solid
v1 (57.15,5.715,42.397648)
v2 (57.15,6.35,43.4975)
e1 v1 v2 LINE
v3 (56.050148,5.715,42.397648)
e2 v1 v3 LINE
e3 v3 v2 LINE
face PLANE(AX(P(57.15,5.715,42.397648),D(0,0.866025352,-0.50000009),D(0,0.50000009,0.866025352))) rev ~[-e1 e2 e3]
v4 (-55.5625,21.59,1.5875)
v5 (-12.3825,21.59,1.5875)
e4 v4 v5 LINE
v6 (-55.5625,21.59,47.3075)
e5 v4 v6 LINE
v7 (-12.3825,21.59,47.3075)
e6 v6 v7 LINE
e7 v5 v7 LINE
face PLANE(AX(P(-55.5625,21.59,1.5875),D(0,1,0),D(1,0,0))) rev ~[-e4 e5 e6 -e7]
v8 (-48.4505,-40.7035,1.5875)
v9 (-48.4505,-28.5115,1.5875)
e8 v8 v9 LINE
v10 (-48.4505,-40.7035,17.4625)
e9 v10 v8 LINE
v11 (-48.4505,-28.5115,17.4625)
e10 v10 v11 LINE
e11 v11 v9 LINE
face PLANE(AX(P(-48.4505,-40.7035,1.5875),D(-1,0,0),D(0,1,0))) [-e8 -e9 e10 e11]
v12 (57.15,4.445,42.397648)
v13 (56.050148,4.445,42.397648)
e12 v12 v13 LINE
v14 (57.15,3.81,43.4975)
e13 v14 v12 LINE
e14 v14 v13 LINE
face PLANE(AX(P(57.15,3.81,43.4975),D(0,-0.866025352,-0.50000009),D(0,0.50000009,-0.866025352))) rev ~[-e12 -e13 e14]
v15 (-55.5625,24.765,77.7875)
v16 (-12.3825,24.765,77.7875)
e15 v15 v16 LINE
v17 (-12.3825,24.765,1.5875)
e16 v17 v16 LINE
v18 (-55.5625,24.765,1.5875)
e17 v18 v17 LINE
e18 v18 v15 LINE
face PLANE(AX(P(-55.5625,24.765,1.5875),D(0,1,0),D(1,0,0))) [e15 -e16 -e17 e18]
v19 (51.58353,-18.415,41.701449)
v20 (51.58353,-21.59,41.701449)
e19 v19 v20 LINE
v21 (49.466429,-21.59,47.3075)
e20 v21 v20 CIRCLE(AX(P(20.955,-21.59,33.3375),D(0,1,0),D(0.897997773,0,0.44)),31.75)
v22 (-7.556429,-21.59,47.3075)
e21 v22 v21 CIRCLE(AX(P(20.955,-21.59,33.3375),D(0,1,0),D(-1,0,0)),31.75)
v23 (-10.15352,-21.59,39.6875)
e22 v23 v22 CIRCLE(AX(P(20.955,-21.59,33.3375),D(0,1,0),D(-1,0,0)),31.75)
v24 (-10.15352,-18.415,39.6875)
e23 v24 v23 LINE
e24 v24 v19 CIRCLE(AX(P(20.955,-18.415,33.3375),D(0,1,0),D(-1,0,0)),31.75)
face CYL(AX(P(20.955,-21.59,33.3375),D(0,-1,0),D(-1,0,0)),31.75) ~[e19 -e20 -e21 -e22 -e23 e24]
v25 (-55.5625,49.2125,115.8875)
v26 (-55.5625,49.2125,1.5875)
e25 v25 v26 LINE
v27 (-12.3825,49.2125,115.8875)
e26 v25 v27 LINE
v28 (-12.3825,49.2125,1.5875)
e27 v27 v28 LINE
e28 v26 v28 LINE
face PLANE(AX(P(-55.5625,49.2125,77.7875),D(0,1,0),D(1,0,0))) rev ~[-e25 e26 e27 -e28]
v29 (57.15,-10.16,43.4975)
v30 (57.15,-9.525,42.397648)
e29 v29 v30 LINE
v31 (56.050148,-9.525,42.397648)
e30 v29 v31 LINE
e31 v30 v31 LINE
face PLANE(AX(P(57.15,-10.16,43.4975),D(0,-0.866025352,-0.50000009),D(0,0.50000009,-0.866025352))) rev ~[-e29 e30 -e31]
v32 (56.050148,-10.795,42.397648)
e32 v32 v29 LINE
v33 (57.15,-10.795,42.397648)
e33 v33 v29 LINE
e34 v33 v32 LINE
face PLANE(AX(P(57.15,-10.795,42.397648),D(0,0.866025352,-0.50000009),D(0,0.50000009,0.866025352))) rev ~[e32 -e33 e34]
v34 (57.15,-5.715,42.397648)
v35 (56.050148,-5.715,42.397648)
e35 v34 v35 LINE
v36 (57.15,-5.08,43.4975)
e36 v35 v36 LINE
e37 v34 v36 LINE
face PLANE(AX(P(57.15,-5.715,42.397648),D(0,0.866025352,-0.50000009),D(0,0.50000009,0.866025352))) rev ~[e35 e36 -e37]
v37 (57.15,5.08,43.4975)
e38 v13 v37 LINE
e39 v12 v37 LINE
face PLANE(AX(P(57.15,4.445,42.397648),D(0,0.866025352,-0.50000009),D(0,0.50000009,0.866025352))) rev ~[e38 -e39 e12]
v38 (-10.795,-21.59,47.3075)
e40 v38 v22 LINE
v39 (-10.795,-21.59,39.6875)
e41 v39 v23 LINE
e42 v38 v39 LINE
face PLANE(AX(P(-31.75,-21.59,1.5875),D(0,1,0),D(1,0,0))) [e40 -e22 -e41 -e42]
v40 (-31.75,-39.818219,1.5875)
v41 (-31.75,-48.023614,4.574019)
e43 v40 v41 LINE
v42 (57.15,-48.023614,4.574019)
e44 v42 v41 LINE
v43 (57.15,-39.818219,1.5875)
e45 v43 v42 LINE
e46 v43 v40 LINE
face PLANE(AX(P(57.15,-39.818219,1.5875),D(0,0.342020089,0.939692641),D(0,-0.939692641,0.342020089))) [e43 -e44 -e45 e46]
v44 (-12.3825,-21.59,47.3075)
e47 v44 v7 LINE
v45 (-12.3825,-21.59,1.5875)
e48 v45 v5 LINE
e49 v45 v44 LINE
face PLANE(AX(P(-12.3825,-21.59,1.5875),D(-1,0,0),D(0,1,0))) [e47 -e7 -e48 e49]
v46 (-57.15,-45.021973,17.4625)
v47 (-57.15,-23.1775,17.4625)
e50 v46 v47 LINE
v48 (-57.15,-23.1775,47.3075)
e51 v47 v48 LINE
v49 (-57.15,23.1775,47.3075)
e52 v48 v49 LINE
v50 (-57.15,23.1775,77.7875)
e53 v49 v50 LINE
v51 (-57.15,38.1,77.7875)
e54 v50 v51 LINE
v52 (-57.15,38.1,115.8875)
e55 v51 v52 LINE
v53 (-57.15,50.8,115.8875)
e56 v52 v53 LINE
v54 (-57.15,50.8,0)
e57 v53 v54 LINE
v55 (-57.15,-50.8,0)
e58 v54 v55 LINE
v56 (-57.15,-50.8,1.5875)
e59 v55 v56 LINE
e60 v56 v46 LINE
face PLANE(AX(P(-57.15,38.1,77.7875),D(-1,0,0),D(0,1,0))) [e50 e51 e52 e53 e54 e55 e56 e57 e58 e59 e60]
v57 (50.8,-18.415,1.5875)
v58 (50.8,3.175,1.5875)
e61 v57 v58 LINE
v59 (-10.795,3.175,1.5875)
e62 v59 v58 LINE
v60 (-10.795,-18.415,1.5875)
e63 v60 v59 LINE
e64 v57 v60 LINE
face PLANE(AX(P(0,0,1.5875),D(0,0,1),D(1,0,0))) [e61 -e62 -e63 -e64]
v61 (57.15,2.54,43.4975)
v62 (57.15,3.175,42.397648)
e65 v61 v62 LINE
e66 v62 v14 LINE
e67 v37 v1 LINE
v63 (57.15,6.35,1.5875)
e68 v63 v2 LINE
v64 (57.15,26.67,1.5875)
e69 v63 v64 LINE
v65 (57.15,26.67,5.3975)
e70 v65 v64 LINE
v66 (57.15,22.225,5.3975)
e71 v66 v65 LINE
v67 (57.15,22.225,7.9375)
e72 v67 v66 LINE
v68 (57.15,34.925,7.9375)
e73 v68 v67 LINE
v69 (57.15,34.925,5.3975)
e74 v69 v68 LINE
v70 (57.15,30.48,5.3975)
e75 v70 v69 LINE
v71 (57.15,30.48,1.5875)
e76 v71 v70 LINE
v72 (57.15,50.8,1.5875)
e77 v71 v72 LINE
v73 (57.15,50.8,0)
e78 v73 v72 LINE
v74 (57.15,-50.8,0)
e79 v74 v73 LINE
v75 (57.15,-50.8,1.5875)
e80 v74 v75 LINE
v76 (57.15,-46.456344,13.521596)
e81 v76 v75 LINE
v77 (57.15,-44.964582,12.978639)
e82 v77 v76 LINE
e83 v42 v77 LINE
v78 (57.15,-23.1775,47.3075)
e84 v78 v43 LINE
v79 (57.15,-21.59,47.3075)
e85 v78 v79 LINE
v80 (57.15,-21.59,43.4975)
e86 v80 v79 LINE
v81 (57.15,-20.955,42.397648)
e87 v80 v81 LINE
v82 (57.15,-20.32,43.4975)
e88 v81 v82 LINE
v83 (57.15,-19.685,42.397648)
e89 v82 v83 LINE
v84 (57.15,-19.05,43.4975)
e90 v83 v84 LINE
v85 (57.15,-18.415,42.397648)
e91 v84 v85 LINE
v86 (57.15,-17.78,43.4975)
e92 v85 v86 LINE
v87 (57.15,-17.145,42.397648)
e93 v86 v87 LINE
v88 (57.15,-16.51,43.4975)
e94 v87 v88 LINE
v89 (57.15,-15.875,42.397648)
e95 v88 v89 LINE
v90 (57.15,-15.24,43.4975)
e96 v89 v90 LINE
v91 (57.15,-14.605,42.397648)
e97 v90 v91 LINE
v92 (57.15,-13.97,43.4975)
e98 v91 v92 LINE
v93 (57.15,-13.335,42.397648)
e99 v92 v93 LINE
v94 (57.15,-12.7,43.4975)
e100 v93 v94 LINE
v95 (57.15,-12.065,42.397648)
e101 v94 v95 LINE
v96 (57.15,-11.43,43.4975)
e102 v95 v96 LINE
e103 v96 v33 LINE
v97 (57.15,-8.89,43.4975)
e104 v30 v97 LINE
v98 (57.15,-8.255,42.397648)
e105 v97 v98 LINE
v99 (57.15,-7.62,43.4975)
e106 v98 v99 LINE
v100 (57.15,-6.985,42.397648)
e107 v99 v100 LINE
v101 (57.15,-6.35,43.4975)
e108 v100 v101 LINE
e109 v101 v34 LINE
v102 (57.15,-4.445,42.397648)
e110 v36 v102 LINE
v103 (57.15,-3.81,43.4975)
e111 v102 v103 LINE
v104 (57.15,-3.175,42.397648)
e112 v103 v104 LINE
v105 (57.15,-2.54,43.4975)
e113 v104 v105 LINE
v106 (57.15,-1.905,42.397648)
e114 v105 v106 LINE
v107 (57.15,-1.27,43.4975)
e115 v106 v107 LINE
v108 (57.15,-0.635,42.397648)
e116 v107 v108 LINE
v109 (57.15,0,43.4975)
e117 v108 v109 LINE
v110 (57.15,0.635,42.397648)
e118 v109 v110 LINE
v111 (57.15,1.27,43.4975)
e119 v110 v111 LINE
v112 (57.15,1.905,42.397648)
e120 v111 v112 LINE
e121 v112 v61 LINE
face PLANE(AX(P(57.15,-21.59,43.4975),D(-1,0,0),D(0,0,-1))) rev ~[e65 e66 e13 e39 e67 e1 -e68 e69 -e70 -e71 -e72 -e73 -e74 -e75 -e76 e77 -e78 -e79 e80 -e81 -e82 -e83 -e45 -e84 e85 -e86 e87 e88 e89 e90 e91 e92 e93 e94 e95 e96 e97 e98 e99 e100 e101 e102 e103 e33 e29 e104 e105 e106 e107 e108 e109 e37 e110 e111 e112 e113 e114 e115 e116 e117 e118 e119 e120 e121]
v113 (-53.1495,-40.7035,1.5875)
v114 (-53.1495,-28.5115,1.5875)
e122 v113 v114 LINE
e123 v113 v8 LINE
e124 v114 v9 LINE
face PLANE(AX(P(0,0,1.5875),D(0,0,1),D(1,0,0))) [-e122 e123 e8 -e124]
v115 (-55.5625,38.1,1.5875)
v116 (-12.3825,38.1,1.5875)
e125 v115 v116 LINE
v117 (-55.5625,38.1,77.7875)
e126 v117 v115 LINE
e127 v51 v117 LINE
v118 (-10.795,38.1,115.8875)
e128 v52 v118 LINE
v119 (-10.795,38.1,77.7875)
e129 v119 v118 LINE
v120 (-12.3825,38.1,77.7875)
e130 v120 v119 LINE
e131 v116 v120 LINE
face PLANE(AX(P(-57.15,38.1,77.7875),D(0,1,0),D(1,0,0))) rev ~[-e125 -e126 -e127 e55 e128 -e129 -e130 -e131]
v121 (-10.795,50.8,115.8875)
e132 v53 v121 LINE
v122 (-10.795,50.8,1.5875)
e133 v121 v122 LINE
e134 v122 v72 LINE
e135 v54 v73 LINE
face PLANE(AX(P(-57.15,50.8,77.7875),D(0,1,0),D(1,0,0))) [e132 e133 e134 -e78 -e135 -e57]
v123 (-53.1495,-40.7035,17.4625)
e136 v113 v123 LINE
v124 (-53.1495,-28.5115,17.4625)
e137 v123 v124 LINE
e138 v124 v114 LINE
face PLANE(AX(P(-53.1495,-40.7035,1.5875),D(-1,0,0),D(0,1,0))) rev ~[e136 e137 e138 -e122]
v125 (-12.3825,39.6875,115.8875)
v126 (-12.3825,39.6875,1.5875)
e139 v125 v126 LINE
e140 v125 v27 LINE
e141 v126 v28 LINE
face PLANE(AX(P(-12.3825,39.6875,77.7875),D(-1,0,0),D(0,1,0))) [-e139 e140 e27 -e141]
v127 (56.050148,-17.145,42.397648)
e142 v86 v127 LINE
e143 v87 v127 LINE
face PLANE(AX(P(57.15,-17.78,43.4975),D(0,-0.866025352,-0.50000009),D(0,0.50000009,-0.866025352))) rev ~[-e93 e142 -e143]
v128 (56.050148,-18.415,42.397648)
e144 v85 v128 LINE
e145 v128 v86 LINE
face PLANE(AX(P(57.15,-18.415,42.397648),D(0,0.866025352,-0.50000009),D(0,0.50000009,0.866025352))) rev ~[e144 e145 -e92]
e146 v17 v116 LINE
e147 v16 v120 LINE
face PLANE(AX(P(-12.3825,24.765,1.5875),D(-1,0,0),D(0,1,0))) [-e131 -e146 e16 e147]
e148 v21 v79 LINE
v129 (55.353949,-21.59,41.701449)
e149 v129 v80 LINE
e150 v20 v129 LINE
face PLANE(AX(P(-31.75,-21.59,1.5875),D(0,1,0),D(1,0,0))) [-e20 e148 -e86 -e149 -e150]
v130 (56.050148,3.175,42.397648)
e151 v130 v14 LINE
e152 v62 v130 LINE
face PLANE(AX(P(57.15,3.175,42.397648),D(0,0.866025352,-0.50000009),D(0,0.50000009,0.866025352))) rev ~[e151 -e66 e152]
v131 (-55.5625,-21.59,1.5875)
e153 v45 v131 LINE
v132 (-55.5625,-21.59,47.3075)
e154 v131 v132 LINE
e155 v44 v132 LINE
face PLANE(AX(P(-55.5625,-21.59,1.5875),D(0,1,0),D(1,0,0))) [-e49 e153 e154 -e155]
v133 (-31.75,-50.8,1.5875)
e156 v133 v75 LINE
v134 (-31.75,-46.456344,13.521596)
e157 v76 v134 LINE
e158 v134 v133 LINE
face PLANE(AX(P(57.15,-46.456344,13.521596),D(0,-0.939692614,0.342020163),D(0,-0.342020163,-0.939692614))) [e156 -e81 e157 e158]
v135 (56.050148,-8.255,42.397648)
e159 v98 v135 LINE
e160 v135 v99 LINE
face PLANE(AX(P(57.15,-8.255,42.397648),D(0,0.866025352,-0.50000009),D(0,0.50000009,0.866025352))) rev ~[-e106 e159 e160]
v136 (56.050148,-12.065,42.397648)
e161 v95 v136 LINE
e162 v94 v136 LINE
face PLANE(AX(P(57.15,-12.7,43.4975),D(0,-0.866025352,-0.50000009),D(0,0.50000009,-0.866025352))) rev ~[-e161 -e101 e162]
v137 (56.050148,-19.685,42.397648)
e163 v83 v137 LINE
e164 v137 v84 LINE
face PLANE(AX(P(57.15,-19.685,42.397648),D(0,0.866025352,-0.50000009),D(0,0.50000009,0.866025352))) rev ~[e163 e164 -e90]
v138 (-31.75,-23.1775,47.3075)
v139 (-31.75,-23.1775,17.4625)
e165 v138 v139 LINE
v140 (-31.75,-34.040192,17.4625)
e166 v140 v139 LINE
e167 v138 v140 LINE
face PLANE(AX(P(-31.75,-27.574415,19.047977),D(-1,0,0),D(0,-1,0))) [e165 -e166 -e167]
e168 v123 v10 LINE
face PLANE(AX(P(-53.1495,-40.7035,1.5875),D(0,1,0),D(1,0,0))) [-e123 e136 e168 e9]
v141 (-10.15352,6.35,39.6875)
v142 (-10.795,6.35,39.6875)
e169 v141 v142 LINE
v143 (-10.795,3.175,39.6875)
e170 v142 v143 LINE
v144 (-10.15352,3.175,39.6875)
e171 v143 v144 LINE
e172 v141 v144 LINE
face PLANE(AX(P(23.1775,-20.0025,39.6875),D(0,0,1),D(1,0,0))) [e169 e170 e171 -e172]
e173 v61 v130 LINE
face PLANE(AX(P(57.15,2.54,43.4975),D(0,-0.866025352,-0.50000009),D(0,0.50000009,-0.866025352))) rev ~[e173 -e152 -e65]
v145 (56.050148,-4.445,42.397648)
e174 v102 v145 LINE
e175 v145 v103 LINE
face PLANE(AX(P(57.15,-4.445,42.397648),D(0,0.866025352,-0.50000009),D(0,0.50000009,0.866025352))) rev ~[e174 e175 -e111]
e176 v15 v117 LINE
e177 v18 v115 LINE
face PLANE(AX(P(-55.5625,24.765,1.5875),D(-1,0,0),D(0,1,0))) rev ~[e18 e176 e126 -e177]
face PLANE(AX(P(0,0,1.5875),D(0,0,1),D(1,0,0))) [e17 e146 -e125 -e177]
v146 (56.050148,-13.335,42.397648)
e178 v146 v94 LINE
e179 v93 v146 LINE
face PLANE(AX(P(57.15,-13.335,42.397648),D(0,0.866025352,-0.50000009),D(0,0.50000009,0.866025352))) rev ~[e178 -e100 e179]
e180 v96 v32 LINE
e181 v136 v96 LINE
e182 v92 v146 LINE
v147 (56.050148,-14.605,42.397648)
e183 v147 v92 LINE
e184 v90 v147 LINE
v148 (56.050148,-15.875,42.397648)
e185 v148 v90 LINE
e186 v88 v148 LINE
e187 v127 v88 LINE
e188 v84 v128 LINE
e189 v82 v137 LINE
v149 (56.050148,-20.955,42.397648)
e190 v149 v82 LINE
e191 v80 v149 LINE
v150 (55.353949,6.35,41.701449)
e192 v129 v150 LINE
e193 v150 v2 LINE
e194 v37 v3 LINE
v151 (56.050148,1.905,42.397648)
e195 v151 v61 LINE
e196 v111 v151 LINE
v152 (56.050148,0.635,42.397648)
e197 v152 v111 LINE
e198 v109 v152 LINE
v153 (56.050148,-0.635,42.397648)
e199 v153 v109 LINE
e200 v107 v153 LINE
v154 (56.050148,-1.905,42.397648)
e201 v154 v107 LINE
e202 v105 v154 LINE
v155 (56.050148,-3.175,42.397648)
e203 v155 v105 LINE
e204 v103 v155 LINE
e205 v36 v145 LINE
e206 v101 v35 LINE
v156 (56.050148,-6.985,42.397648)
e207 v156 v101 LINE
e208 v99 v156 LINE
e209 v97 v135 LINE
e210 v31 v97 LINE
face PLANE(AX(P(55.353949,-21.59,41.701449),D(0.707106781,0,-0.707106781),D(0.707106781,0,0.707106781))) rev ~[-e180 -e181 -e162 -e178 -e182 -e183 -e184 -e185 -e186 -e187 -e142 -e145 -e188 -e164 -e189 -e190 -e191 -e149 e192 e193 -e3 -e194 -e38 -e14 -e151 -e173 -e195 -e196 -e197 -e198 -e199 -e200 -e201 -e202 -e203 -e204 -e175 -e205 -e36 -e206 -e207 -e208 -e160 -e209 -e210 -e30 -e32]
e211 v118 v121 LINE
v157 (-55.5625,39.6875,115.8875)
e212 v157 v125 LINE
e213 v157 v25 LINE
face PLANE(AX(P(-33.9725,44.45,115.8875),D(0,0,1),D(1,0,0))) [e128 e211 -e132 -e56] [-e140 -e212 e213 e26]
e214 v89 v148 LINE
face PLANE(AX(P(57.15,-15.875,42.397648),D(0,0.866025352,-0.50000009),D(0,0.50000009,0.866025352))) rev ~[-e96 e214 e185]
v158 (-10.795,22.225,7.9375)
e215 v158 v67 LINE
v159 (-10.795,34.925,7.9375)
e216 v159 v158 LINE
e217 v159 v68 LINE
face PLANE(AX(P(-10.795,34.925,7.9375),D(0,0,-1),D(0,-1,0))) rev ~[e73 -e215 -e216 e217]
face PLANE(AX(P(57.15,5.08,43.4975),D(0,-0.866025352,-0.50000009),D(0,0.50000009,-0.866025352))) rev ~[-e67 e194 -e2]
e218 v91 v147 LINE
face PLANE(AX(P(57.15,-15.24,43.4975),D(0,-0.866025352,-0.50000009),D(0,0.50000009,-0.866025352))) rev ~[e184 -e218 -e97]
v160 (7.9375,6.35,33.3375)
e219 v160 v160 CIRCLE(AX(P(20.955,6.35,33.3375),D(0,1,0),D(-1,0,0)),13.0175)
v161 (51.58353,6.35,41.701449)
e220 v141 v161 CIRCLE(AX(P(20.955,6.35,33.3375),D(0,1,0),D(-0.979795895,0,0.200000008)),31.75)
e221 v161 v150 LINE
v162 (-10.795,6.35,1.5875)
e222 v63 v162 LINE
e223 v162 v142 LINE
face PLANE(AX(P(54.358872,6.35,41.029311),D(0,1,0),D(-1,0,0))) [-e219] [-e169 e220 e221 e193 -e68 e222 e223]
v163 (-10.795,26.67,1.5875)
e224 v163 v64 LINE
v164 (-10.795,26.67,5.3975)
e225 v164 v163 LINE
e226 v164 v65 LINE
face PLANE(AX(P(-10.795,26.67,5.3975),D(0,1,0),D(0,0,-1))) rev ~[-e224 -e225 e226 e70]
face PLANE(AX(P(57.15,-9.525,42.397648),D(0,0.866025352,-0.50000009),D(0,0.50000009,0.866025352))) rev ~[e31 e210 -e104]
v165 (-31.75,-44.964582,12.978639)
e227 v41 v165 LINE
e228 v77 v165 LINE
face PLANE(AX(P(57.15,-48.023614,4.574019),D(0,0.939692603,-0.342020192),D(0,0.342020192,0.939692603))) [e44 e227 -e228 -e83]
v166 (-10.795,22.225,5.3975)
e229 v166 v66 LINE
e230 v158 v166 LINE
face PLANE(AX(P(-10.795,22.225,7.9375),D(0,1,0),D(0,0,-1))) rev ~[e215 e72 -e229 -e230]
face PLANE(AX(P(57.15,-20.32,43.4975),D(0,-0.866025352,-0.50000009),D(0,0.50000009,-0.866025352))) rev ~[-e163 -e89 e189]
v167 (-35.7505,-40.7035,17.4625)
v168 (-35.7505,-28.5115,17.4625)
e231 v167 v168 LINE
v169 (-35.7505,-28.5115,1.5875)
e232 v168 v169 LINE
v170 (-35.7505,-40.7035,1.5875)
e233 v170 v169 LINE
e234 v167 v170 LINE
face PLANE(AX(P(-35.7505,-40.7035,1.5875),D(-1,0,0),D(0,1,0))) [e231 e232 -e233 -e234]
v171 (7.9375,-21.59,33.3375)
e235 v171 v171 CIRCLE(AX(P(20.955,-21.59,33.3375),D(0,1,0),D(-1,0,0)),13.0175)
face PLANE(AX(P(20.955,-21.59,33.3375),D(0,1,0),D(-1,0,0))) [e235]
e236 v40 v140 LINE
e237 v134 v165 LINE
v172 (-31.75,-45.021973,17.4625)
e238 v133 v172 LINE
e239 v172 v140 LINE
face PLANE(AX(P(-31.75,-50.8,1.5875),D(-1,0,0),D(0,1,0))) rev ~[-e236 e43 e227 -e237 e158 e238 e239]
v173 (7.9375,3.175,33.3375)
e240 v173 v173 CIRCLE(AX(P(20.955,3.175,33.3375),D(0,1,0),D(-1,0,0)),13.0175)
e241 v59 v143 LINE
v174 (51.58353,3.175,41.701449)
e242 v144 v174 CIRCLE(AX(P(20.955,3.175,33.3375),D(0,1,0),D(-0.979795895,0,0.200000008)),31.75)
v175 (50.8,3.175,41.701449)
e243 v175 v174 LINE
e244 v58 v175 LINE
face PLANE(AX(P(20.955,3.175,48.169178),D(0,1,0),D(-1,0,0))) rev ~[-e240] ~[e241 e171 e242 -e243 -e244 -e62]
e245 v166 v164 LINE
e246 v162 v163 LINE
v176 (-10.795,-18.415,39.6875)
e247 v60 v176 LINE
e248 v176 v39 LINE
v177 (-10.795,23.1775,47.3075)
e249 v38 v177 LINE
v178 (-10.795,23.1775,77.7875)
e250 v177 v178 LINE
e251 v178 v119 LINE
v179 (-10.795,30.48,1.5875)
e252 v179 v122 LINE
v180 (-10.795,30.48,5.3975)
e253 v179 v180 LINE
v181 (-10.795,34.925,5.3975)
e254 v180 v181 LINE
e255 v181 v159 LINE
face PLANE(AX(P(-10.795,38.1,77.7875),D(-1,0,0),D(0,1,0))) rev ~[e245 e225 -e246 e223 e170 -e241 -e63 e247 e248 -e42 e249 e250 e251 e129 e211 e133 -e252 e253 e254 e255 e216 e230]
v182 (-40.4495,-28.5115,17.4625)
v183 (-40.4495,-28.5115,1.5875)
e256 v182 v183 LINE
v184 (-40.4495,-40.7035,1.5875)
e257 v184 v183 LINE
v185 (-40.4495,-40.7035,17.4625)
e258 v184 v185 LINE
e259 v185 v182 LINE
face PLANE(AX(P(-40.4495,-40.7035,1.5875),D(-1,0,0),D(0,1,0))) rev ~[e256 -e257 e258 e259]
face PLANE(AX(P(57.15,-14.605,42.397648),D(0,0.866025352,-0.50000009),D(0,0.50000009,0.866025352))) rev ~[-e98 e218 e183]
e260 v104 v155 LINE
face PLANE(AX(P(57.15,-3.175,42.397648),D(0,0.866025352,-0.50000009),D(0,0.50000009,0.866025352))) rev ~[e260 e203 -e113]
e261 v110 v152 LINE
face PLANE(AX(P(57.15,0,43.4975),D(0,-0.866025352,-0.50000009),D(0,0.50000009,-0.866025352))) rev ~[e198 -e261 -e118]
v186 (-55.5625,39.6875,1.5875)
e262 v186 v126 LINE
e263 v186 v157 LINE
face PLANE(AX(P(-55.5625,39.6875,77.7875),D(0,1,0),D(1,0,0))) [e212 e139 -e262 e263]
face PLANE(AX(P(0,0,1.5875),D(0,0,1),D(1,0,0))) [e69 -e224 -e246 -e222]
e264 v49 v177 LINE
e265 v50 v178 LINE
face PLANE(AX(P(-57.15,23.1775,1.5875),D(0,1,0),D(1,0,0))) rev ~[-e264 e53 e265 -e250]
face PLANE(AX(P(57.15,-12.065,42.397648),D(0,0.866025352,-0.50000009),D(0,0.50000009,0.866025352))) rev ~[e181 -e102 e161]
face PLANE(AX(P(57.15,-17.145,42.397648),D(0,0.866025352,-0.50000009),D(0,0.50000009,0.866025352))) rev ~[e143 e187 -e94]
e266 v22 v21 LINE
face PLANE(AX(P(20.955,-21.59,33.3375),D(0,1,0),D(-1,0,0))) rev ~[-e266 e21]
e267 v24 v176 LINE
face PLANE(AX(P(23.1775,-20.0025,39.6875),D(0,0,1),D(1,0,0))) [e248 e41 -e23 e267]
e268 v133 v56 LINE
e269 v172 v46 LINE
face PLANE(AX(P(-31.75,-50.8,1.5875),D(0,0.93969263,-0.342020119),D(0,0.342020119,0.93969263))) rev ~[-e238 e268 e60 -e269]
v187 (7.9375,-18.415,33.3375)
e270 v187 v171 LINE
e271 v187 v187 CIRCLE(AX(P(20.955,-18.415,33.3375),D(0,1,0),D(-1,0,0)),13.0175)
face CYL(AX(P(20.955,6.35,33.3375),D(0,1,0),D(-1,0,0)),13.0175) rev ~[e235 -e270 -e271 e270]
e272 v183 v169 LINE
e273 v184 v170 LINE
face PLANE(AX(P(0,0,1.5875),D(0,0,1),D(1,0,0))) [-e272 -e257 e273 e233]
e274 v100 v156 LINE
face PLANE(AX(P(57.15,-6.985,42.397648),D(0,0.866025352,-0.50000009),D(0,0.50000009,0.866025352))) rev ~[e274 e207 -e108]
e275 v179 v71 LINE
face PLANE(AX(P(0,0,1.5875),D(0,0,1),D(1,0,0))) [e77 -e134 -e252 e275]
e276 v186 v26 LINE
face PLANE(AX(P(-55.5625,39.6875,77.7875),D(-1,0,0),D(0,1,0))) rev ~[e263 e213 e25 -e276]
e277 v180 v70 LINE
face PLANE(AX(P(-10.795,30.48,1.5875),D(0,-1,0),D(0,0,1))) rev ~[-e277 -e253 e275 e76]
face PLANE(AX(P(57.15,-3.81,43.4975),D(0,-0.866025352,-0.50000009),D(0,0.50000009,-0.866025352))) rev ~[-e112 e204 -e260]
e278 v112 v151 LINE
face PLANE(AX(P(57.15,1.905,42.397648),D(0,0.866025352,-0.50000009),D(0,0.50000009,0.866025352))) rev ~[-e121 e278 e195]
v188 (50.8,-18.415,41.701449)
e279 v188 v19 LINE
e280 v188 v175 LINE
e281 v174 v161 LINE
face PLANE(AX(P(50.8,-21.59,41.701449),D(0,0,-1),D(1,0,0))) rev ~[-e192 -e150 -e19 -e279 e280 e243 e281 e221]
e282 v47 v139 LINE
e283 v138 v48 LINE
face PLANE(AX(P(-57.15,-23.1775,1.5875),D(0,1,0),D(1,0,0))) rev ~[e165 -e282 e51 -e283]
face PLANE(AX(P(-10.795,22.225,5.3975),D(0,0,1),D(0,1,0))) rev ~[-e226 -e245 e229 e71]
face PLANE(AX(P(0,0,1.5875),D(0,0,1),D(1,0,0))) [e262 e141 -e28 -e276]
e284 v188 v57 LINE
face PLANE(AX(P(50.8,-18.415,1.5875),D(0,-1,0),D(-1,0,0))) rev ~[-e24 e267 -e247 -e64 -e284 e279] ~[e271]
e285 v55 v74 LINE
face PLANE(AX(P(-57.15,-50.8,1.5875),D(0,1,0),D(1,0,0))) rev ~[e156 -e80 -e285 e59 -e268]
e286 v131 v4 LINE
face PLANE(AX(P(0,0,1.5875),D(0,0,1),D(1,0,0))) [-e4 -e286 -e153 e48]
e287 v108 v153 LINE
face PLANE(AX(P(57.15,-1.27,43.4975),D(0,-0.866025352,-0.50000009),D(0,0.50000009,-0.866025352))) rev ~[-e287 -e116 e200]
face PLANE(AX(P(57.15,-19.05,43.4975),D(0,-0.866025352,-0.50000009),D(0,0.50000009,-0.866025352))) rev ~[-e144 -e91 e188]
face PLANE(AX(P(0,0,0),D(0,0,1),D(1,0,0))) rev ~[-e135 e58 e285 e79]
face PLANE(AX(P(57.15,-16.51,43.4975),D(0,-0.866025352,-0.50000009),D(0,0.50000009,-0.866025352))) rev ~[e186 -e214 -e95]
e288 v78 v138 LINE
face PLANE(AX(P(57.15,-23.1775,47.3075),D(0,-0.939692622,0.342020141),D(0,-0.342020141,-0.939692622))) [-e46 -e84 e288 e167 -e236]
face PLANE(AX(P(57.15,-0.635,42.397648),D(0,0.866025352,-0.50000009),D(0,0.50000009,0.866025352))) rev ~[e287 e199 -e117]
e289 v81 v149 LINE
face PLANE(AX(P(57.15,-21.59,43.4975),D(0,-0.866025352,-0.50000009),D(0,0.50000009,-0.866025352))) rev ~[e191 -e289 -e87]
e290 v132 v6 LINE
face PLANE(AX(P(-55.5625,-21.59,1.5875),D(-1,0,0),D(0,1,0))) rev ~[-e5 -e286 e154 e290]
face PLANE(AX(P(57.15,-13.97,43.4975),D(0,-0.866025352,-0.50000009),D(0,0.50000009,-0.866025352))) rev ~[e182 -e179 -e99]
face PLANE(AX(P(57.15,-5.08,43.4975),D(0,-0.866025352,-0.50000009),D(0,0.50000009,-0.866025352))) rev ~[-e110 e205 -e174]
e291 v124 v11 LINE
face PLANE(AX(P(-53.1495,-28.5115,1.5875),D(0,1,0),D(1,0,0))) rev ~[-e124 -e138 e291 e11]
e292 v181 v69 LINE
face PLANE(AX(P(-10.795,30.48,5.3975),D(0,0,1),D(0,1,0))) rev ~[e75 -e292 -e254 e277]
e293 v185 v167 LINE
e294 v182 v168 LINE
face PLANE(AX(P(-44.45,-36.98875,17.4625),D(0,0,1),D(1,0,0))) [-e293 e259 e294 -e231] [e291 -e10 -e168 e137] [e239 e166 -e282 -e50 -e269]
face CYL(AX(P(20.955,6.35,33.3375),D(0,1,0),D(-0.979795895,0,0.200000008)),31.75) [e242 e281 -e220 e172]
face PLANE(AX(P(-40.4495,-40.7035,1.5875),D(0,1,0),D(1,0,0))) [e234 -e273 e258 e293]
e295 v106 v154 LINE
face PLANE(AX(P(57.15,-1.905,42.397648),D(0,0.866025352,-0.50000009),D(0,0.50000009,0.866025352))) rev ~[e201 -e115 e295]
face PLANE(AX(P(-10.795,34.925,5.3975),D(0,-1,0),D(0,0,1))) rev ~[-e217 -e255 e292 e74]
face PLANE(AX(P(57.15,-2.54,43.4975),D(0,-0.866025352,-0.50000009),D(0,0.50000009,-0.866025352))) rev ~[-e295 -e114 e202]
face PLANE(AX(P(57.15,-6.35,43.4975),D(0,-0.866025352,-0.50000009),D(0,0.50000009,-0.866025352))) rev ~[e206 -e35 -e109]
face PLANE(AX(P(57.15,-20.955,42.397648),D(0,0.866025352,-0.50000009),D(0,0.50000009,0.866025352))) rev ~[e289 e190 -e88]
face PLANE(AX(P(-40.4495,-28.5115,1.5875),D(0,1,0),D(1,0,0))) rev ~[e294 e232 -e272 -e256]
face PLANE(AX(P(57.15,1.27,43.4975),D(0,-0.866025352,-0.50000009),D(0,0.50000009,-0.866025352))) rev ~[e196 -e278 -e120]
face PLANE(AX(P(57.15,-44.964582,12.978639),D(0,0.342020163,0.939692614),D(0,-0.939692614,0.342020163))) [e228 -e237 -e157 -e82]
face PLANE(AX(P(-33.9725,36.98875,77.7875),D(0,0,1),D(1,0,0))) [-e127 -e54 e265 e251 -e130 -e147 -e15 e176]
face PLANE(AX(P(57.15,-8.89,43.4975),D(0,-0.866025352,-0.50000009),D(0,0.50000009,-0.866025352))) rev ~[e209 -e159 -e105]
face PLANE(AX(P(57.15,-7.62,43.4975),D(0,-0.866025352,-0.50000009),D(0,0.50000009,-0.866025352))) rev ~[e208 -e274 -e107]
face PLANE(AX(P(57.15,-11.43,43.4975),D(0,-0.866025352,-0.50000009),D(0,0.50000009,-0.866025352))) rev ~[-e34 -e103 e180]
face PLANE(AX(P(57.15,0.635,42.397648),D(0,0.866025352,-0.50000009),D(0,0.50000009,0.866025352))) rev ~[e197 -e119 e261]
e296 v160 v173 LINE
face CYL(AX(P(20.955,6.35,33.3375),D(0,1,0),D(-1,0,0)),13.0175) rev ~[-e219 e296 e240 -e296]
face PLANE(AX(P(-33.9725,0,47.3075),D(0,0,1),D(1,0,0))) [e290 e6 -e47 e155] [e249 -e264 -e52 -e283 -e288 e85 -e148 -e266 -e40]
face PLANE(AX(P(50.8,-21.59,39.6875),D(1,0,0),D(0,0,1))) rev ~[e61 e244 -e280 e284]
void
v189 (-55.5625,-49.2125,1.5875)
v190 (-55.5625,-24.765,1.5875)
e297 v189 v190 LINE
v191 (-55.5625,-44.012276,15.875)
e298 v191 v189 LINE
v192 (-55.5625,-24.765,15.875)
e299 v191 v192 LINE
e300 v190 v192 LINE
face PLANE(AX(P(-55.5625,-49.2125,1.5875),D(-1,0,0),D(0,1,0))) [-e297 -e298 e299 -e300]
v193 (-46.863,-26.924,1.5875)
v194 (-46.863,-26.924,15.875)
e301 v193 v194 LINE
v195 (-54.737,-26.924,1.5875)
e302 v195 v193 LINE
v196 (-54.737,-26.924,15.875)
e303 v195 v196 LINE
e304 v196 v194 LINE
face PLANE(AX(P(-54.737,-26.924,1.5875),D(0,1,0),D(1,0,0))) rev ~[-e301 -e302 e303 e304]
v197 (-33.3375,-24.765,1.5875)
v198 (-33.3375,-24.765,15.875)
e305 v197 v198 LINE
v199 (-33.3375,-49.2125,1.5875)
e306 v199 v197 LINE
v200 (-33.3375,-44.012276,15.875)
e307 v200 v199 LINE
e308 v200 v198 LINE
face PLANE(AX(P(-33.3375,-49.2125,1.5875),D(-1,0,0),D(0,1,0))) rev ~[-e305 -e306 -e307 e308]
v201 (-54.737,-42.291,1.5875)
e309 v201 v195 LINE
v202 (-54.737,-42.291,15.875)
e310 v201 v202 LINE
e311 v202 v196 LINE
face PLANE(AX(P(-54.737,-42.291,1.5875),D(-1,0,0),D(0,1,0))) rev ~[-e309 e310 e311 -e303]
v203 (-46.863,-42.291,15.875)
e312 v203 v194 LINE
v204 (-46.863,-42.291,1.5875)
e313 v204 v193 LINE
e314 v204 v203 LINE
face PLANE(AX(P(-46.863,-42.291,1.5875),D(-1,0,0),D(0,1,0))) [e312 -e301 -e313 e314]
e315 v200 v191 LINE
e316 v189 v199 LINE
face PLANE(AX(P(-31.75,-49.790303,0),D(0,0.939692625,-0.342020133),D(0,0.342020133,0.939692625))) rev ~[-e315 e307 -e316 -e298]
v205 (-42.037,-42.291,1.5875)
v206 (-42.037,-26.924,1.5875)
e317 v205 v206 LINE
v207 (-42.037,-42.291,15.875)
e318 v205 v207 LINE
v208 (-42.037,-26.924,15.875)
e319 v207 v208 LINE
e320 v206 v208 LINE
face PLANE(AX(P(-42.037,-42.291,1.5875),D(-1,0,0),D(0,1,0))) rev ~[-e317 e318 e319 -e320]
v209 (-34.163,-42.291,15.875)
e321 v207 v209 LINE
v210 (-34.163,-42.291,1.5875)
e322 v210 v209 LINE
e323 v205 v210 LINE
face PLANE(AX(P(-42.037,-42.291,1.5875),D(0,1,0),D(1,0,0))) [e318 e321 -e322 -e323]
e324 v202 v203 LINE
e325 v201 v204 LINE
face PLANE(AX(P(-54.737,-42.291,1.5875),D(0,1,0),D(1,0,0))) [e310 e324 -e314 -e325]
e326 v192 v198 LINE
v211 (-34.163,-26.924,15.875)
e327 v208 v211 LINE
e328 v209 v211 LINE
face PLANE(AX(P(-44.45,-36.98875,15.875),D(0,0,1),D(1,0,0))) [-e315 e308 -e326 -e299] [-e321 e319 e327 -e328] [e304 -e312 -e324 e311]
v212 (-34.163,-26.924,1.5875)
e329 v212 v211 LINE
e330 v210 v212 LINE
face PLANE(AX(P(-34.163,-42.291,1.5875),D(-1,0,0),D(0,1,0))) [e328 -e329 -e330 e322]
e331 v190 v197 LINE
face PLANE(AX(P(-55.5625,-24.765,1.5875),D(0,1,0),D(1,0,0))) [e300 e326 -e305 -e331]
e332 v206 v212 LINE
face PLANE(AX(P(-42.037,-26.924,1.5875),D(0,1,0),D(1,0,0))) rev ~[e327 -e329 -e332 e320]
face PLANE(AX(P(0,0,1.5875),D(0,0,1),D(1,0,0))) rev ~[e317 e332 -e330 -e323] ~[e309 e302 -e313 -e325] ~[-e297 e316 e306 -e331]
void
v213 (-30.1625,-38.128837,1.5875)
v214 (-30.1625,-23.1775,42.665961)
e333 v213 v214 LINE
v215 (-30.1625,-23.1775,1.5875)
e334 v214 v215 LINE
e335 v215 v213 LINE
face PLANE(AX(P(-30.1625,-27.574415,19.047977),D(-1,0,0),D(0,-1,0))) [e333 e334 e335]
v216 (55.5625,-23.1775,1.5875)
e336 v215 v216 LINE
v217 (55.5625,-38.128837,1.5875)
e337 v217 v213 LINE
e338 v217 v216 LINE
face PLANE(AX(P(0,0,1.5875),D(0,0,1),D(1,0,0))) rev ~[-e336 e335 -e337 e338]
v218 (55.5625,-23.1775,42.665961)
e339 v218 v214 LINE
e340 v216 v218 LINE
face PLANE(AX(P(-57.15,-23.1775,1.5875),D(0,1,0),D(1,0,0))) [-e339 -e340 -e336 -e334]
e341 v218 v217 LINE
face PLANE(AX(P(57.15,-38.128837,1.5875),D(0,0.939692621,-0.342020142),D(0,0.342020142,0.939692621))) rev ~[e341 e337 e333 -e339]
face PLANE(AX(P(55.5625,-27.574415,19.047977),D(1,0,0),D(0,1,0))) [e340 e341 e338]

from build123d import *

# Parameters (mm, degrees)
F0_W      = 114.3
F0_H      = 101.6
F1_DEPTH  = 1.5875
F2_W      = 46.355
F2_H      = 46.355
F2_W_2    = 43.18
F2_H_2    = 43.18
F3_DEPTH  = 45.72
F4_W      = 88.9
F4_H      = 1.5875
F5_DEPTH  = 45.72
F7_DEPTH  = 88.9
F9_DEPTH  = 1.5875
F11_DEPTH = 1.5875
F12_W     = 25.4
F12_H     = 27.6225
F12_W_2   = 22.225
F12_H_2   = 24.4475
F12_W_3   = 7.874
F12_H_3   = 15.367
F12_W_4   = 4.699
F12_H_4   = 12.192
F13_DEPTH = 15.875
F14_W     = 25.4
F14_H     = 27.6225
F14_W_2   = 4.699
F14_H_2   = 12.192
F15_DEPTH = 1.5875
F17_DEPTH = 25.4
F18_W     = 6.35
F18_H     = 21.59
F19_DEPTH = 38.1
F21_DEPTH = 27.94
F23_DEPTH = 25.4
F25_DEPTH = 3.175
F26_R     = 31.75
F27_DEPTH = 3.175
F28_R     = 13.0175
F29_DEPTH = 27.94
F30_W     = 46.355
F30_H     = 27.6225
F30_W_2   = 43.18
F30_H_2   = 24.4475
F31_DEPTH = 76.2
F32_W     = 46.355
F32_H     = 12.7
F33_DEPTH = 1.5875
F34_W     = 43.18
F34_H     = 1.5875
F35_DEPTH = 76.2
F36_W     = 46.355
F36_H     = 12.7
F36_W_2   = 43.18
F36_H_2   = 9.525
F37_DEPTH = 38.1
F38_W     = 43.18
F38_H     = 9.525
F39_DEPTH = 25.4
F41_DEPTH = 67.945
F43_DEPTH = 25.4


with BuildPart() as f1:
    # F0 (on Top) → F1 (new body)
    with BuildSketch(Plane.XY):
        Rectangle(F0_W, F0_H)
    extrude(amount=F1_DEPTH)

    # F2 (on face) → F3 (join)
    with BuildSketch(Plane.XY.offset(1.5875)):
        with Locations((-33.9725, 0)):
            Rectangle(F2_W, F2_H)
        with Locations((-33.9725, 0)):
            Rectangle(F2_W_2, F2_H_2, mode=Mode.SUBTRACT)
    extrude(amount=F3_DEPTH)

    # F4 (on face) → F5 (join)
    with BuildSketch(Plane.XY.offset(1.5875)):
        with Locations((12.7, -22.38375)):
            Rectangle(F4_W, F4_H)
    extrude(amount=F5_DEPTH)

    # F6 (on face) → F7 (join)
    with BuildSketch(Plane.YZ.offset(57.15)):
        Polygon((-23.1775, 47.3075), (-39.818219, 1.5875), (-38.128837, 1.5875), (-23.1775, 42.665961), align=None)
        Polygon((-46.456344, 13.521596), (-50.8, 1.5875), (-39.818219, 1.5875), (-48.023614, 4.574019), (-44.964582, 12.978639), align=None)
    extrude(amount=-F7_DEPTH)

    # F8 (on face) → F9 (join)
    with BuildSketch(Plane.YZ.offset(57.15)):
        Polygon((-23.1775, 1.5875), (-23.1775, 42.665961), (-38.128837, 1.5875), align=None)
    extrude(amount=-F9_DEPTH)

    # F10 (on face) → F11 (join)
    with BuildSketch(Plane(origin=(-31.75, 0, 0), x_dir=(0, -1, 0), z_dir=(-1, 0, 0))):
        Polygon((23.1775, 1.5875), (38.128837, 1.5875), (23.1775, 42.665961), align=None)
    extrude(amount=-F11_DEPTH)

    # F12 (on face) → F13 (join)
    with BuildSketch(Plane.XY.offset(1.5875)):
        with Locations((-44.45, -36.98875)):
            Rectangle(F12_W, F12_H)
        with Locations((-44.45, -36.98875)):
            Rectangle(F12_W_2, F12_H_2, mode=Mode.SUBTRACT)
        with Locations((-38.1, -34.6075)):
            Rectangle(F12_W_3, F12_H_3)
        with Locations((-38.1, -34.6075)):
            Rectangle(F12_W_4, F12_H_4, mode=Mode.SUBTRACT)
        with Locations((-50.8, -34.6075)):
            Rectangle(F12_W_3, F12_H_3)
        with Locations((-50.8, -34.6075)):
            Rectangle(F12_W_4, F12_H_4, mode=Mode.SUBTRACT)
    extrude(amount=F13_DEPTH)

    # F14 (on face) → F15 (join)
    with BuildSketch(Plane.XY.offset(17.4625)):
        with Locations((-44.45, -36.98875)):
            Rectangle(F14_W, F14_H)
        with Locations((-50.8, -34.6075)):
            Rectangle(F14_W_2, F14_H_2, mode=Mode.SUBTRACT)
        with Locations((-38.1, -34.6075)):
            Rectangle(F14_W_2, F14_H_2, mode=Mode.SUBTRACT)
    extrude(amount=-F15_DEPTH)

    # F16 (on face) → F17 (cut)
    with BuildSketch(Plane.YZ.offset(-31.75)):
        Polygon((-50.8, 17.4625), (-50.8, 1.5875), (-45.021973, 17.4625), align=None)
    extrude(amount=-F17_DEPTH, mode=Mode.SUBTRACT)

    # F18 (on face) → F19 (join)
    with BuildSketch(Plane.XY.offset(1.5875)):
        Polygon((-10.795, -18.415), (-10.795, -21.59), (57.15, -21.59), (57.15, -18.415), (50.8, -18.415), align=None)
        with Locations((53.975, -7.62)):
            Rectangle(F18_W, F18_H)
        Polygon((50.8, 3.175), (57.15, 3.175), (57.15, 6.35), (-10.795, 6.35), (-10.795, 3.175), align=None)
    extrude(amount=F19_DEPTH)

    # F20 (on face) → F21 (join, through all)
    with BuildSketch(Plane(origin=(0, -21.59, 0), x_dir=(-1, 0, 0), z_dir=(0, 1, 0))):
        Polygon((-55.353949, 41.701449), (-57.15, 43.4975), (-57.15, 39.6875), (-50.8, 39.6875), (-50.8, 41.701449), align=None)
    extrude(amount=F21_DEPTH)

    # F22 (on face) → F23 (cut)
    with BuildSketch(Plane.YZ.offset(57.15)):
        Polygon((-20.32, 43.4975), (-21.59, 43.4975), (-20.955, 42.397648), align=None)
        Polygon((6.35, 43.4975), (5.08, 43.4975), (5.715, 42.397648), align=None)
        Polygon((5.08, 43.4975), (3.81, 43.4975), (4.445, 42.397648), align=None)
        Polygon((3.81, 43.4975), (2.54, 43.4975), (3.175, 42.397648), align=None)
        Polygon((2.54, 43.4975), (1.27, 43.4975), (1.905, 42.397648), align=None)
        Polygon((1.27, 43.4975), (0, 43.4975), (0.635, 42.397648), align=None)
        Polygon((0, 43.4975), (-1.27, 43.4975), (-0.635, 42.397648), align=None)
        Polygon((-1.27, 43.4975), (-2.54, 43.4975), (-1.905, 42.397648), align=None)
        Polygon((-2.54, 43.4975), (-3.81, 43.4975), (-3.175, 42.397648), align=None)
        Polygon((-3.81, 43.4975), (-5.08, 43.4975), (-4.445, 42.397648), align=None)
        Polygon((-5.08, 43.4975), (-6.35, 43.4975), (-5.715, 42.397648), align=None)
        Polygon((-6.35, 43.4975), (-7.62, 43.4975), (-6.985, 42.397648), align=None)
        Polygon((-7.62, 43.4975), (-8.89, 43.4975), (-8.255, 42.397648), align=None)
        Polygon((-8.89, 43.4975), (-10.16, 43.4975), (-9.525, 42.397648), align=None)
        Polygon((-10.16, 43.4975), (-11.43, 43.4975), (-10.795, 42.397648), align=None)
        Polygon((-11.43, 43.4975), (-12.7, 43.4975), (-12.065, 42.397648), align=None)
        Polygon((-12.7, 43.4975), (-13.97, 43.4975), (-13.335, 42.397648), align=None)
        Polygon((-13.97, 43.4975), (-15.24, 43.4975), (-14.605, 42.397648), align=None)
        Polygon((-15.24, 43.4975), (-16.51, 43.4975), (-15.875, 42.397648), align=None)
        Polygon((-16.51, 43.4975), (-17.78, 43.4975), (-17.145, 42.397648), align=None)
        Polygon((-17.78, 43.4975), (-19.05, 43.4975), (-18.415, 42.397648), align=None)
        Polygon((-19.05, 43.4975), (-20.32, 43.4975), (-19.685, 42.397648), align=None)
    extrude(amount=-F23_DEPTH, mode=Mode.SUBTRACT)

    # F24 (on face) → F25 (join)
    with BuildSketch(Plane(origin=(0, 6.35, 0), x_dir=(-1, 0, 0), z_dir=(0, 1, 0))):
        with BuildLine():
            Line((-52.06352, 39.6875), (10.15352, 39.6875))
            ThreePointArc((10.15352, 39.6875), (-20.955, 65.0875), (-52.06352, 39.6875))
        make_face()
    extrude(amount=-F25_DEPTH)

    # F26 (on face) → F27 (join)
    with BuildSketch(Plane(origin=(0, -21.59, 0), x_dir=(-1, 0, 0), z_dir=(0, 1, 0))):
        with Locations((-20.955, 33.3375)):
            Circle(F26_R)
    extrude(amount=F27_DEPTH)

    # F28 (on face) → F29 (cut)
    with BuildSketch(Plane(origin=(0, 6.35, 0), x_dir=(-1, 0, 0), z_dir=(0, 1, 0))):
        with Locations((-20.955, 33.3375)):
            Circle(F28_R)
    extrude(amount=-F29_DEPTH, mode=Mode.SUBTRACT)

    # F30 (on face) → F31 (join)
    with BuildSketch(Plane.XY.offset(1.5875)):
        with Locations((-33.9725, 36.98875)):
            Rectangle(F30_W, F30_H)
        with Locations((-33.9725, 36.98875)):
            Rectangle(F30_W_2, F30_H_2, mode=Mode.SUBTRACT)
    extrude(amount=F31_DEPTH)

    # F32 (on face) → F33 (join)
    with BuildSketch(Plane.XY.offset(77.7875)):
        with Locations((-33.9725, 44.45)):
            Rectangle(F32_W, F32_H)
    extrude(amount=-F33_DEPTH)

    # F34 (on face) → F35 (join)
    with BuildSketch(Plane.XY.offset(77.7875)):
        with Locations((-33.9725, 38.89375)):
            Rectangle(F34_W, F34_H)
    extrude(amount=-F35_DEPTH)

    # F36 (on face) → F37 (join)
    with BuildSketch(Plane.XY.offset(77.7875)):
        with Locations((-33.9725, 44.45)):
            Rectangle(F36_W, F36_H)
        with Locations((-33.9725, 44.45)):
            Rectangle(F36_W_2, F36_H_2, mode=Mode.SUBTRACT)
    extrude(amount=F37_DEPTH)

    # F38 (on face) → F39 (cut)
    with BuildSketch(Plane.XY.offset(77.7875)):
        with Locations((-33.9725, 44.45)):
            Rectangle(F38_W, F38_H)
    extrude(amount=-F39_DEPTH, mode=Mode.SUBTRACT)

    # F40 (on face) → F41 (join, through all)
    with BuildSketch(Plane.YZ.offset(-10.795)):
        Polygon((26.67, 5.3975), (26.67, 1.5875), (30.48, 1.5875), (30.48, 5.3975), (34.925, 5.3975), (34.925, 7.9375), (22.225, 7.9375), (22.225, 5.3975), align=None)
    extrude(amount=F41_DEPTH)

    # F42 (on face) → F43 (join)
    with BuildSketch(Plane.YZ.offset(-31.75)):
        Polygon((-43.434473, 17.4625), (-45.021973, 17.4625), (-50.8, 1.5875), (-50.8, 0), (-49.790303, 0), align=None)
    extrude(amount=-F43_DEPTH)


solid = f1.part
